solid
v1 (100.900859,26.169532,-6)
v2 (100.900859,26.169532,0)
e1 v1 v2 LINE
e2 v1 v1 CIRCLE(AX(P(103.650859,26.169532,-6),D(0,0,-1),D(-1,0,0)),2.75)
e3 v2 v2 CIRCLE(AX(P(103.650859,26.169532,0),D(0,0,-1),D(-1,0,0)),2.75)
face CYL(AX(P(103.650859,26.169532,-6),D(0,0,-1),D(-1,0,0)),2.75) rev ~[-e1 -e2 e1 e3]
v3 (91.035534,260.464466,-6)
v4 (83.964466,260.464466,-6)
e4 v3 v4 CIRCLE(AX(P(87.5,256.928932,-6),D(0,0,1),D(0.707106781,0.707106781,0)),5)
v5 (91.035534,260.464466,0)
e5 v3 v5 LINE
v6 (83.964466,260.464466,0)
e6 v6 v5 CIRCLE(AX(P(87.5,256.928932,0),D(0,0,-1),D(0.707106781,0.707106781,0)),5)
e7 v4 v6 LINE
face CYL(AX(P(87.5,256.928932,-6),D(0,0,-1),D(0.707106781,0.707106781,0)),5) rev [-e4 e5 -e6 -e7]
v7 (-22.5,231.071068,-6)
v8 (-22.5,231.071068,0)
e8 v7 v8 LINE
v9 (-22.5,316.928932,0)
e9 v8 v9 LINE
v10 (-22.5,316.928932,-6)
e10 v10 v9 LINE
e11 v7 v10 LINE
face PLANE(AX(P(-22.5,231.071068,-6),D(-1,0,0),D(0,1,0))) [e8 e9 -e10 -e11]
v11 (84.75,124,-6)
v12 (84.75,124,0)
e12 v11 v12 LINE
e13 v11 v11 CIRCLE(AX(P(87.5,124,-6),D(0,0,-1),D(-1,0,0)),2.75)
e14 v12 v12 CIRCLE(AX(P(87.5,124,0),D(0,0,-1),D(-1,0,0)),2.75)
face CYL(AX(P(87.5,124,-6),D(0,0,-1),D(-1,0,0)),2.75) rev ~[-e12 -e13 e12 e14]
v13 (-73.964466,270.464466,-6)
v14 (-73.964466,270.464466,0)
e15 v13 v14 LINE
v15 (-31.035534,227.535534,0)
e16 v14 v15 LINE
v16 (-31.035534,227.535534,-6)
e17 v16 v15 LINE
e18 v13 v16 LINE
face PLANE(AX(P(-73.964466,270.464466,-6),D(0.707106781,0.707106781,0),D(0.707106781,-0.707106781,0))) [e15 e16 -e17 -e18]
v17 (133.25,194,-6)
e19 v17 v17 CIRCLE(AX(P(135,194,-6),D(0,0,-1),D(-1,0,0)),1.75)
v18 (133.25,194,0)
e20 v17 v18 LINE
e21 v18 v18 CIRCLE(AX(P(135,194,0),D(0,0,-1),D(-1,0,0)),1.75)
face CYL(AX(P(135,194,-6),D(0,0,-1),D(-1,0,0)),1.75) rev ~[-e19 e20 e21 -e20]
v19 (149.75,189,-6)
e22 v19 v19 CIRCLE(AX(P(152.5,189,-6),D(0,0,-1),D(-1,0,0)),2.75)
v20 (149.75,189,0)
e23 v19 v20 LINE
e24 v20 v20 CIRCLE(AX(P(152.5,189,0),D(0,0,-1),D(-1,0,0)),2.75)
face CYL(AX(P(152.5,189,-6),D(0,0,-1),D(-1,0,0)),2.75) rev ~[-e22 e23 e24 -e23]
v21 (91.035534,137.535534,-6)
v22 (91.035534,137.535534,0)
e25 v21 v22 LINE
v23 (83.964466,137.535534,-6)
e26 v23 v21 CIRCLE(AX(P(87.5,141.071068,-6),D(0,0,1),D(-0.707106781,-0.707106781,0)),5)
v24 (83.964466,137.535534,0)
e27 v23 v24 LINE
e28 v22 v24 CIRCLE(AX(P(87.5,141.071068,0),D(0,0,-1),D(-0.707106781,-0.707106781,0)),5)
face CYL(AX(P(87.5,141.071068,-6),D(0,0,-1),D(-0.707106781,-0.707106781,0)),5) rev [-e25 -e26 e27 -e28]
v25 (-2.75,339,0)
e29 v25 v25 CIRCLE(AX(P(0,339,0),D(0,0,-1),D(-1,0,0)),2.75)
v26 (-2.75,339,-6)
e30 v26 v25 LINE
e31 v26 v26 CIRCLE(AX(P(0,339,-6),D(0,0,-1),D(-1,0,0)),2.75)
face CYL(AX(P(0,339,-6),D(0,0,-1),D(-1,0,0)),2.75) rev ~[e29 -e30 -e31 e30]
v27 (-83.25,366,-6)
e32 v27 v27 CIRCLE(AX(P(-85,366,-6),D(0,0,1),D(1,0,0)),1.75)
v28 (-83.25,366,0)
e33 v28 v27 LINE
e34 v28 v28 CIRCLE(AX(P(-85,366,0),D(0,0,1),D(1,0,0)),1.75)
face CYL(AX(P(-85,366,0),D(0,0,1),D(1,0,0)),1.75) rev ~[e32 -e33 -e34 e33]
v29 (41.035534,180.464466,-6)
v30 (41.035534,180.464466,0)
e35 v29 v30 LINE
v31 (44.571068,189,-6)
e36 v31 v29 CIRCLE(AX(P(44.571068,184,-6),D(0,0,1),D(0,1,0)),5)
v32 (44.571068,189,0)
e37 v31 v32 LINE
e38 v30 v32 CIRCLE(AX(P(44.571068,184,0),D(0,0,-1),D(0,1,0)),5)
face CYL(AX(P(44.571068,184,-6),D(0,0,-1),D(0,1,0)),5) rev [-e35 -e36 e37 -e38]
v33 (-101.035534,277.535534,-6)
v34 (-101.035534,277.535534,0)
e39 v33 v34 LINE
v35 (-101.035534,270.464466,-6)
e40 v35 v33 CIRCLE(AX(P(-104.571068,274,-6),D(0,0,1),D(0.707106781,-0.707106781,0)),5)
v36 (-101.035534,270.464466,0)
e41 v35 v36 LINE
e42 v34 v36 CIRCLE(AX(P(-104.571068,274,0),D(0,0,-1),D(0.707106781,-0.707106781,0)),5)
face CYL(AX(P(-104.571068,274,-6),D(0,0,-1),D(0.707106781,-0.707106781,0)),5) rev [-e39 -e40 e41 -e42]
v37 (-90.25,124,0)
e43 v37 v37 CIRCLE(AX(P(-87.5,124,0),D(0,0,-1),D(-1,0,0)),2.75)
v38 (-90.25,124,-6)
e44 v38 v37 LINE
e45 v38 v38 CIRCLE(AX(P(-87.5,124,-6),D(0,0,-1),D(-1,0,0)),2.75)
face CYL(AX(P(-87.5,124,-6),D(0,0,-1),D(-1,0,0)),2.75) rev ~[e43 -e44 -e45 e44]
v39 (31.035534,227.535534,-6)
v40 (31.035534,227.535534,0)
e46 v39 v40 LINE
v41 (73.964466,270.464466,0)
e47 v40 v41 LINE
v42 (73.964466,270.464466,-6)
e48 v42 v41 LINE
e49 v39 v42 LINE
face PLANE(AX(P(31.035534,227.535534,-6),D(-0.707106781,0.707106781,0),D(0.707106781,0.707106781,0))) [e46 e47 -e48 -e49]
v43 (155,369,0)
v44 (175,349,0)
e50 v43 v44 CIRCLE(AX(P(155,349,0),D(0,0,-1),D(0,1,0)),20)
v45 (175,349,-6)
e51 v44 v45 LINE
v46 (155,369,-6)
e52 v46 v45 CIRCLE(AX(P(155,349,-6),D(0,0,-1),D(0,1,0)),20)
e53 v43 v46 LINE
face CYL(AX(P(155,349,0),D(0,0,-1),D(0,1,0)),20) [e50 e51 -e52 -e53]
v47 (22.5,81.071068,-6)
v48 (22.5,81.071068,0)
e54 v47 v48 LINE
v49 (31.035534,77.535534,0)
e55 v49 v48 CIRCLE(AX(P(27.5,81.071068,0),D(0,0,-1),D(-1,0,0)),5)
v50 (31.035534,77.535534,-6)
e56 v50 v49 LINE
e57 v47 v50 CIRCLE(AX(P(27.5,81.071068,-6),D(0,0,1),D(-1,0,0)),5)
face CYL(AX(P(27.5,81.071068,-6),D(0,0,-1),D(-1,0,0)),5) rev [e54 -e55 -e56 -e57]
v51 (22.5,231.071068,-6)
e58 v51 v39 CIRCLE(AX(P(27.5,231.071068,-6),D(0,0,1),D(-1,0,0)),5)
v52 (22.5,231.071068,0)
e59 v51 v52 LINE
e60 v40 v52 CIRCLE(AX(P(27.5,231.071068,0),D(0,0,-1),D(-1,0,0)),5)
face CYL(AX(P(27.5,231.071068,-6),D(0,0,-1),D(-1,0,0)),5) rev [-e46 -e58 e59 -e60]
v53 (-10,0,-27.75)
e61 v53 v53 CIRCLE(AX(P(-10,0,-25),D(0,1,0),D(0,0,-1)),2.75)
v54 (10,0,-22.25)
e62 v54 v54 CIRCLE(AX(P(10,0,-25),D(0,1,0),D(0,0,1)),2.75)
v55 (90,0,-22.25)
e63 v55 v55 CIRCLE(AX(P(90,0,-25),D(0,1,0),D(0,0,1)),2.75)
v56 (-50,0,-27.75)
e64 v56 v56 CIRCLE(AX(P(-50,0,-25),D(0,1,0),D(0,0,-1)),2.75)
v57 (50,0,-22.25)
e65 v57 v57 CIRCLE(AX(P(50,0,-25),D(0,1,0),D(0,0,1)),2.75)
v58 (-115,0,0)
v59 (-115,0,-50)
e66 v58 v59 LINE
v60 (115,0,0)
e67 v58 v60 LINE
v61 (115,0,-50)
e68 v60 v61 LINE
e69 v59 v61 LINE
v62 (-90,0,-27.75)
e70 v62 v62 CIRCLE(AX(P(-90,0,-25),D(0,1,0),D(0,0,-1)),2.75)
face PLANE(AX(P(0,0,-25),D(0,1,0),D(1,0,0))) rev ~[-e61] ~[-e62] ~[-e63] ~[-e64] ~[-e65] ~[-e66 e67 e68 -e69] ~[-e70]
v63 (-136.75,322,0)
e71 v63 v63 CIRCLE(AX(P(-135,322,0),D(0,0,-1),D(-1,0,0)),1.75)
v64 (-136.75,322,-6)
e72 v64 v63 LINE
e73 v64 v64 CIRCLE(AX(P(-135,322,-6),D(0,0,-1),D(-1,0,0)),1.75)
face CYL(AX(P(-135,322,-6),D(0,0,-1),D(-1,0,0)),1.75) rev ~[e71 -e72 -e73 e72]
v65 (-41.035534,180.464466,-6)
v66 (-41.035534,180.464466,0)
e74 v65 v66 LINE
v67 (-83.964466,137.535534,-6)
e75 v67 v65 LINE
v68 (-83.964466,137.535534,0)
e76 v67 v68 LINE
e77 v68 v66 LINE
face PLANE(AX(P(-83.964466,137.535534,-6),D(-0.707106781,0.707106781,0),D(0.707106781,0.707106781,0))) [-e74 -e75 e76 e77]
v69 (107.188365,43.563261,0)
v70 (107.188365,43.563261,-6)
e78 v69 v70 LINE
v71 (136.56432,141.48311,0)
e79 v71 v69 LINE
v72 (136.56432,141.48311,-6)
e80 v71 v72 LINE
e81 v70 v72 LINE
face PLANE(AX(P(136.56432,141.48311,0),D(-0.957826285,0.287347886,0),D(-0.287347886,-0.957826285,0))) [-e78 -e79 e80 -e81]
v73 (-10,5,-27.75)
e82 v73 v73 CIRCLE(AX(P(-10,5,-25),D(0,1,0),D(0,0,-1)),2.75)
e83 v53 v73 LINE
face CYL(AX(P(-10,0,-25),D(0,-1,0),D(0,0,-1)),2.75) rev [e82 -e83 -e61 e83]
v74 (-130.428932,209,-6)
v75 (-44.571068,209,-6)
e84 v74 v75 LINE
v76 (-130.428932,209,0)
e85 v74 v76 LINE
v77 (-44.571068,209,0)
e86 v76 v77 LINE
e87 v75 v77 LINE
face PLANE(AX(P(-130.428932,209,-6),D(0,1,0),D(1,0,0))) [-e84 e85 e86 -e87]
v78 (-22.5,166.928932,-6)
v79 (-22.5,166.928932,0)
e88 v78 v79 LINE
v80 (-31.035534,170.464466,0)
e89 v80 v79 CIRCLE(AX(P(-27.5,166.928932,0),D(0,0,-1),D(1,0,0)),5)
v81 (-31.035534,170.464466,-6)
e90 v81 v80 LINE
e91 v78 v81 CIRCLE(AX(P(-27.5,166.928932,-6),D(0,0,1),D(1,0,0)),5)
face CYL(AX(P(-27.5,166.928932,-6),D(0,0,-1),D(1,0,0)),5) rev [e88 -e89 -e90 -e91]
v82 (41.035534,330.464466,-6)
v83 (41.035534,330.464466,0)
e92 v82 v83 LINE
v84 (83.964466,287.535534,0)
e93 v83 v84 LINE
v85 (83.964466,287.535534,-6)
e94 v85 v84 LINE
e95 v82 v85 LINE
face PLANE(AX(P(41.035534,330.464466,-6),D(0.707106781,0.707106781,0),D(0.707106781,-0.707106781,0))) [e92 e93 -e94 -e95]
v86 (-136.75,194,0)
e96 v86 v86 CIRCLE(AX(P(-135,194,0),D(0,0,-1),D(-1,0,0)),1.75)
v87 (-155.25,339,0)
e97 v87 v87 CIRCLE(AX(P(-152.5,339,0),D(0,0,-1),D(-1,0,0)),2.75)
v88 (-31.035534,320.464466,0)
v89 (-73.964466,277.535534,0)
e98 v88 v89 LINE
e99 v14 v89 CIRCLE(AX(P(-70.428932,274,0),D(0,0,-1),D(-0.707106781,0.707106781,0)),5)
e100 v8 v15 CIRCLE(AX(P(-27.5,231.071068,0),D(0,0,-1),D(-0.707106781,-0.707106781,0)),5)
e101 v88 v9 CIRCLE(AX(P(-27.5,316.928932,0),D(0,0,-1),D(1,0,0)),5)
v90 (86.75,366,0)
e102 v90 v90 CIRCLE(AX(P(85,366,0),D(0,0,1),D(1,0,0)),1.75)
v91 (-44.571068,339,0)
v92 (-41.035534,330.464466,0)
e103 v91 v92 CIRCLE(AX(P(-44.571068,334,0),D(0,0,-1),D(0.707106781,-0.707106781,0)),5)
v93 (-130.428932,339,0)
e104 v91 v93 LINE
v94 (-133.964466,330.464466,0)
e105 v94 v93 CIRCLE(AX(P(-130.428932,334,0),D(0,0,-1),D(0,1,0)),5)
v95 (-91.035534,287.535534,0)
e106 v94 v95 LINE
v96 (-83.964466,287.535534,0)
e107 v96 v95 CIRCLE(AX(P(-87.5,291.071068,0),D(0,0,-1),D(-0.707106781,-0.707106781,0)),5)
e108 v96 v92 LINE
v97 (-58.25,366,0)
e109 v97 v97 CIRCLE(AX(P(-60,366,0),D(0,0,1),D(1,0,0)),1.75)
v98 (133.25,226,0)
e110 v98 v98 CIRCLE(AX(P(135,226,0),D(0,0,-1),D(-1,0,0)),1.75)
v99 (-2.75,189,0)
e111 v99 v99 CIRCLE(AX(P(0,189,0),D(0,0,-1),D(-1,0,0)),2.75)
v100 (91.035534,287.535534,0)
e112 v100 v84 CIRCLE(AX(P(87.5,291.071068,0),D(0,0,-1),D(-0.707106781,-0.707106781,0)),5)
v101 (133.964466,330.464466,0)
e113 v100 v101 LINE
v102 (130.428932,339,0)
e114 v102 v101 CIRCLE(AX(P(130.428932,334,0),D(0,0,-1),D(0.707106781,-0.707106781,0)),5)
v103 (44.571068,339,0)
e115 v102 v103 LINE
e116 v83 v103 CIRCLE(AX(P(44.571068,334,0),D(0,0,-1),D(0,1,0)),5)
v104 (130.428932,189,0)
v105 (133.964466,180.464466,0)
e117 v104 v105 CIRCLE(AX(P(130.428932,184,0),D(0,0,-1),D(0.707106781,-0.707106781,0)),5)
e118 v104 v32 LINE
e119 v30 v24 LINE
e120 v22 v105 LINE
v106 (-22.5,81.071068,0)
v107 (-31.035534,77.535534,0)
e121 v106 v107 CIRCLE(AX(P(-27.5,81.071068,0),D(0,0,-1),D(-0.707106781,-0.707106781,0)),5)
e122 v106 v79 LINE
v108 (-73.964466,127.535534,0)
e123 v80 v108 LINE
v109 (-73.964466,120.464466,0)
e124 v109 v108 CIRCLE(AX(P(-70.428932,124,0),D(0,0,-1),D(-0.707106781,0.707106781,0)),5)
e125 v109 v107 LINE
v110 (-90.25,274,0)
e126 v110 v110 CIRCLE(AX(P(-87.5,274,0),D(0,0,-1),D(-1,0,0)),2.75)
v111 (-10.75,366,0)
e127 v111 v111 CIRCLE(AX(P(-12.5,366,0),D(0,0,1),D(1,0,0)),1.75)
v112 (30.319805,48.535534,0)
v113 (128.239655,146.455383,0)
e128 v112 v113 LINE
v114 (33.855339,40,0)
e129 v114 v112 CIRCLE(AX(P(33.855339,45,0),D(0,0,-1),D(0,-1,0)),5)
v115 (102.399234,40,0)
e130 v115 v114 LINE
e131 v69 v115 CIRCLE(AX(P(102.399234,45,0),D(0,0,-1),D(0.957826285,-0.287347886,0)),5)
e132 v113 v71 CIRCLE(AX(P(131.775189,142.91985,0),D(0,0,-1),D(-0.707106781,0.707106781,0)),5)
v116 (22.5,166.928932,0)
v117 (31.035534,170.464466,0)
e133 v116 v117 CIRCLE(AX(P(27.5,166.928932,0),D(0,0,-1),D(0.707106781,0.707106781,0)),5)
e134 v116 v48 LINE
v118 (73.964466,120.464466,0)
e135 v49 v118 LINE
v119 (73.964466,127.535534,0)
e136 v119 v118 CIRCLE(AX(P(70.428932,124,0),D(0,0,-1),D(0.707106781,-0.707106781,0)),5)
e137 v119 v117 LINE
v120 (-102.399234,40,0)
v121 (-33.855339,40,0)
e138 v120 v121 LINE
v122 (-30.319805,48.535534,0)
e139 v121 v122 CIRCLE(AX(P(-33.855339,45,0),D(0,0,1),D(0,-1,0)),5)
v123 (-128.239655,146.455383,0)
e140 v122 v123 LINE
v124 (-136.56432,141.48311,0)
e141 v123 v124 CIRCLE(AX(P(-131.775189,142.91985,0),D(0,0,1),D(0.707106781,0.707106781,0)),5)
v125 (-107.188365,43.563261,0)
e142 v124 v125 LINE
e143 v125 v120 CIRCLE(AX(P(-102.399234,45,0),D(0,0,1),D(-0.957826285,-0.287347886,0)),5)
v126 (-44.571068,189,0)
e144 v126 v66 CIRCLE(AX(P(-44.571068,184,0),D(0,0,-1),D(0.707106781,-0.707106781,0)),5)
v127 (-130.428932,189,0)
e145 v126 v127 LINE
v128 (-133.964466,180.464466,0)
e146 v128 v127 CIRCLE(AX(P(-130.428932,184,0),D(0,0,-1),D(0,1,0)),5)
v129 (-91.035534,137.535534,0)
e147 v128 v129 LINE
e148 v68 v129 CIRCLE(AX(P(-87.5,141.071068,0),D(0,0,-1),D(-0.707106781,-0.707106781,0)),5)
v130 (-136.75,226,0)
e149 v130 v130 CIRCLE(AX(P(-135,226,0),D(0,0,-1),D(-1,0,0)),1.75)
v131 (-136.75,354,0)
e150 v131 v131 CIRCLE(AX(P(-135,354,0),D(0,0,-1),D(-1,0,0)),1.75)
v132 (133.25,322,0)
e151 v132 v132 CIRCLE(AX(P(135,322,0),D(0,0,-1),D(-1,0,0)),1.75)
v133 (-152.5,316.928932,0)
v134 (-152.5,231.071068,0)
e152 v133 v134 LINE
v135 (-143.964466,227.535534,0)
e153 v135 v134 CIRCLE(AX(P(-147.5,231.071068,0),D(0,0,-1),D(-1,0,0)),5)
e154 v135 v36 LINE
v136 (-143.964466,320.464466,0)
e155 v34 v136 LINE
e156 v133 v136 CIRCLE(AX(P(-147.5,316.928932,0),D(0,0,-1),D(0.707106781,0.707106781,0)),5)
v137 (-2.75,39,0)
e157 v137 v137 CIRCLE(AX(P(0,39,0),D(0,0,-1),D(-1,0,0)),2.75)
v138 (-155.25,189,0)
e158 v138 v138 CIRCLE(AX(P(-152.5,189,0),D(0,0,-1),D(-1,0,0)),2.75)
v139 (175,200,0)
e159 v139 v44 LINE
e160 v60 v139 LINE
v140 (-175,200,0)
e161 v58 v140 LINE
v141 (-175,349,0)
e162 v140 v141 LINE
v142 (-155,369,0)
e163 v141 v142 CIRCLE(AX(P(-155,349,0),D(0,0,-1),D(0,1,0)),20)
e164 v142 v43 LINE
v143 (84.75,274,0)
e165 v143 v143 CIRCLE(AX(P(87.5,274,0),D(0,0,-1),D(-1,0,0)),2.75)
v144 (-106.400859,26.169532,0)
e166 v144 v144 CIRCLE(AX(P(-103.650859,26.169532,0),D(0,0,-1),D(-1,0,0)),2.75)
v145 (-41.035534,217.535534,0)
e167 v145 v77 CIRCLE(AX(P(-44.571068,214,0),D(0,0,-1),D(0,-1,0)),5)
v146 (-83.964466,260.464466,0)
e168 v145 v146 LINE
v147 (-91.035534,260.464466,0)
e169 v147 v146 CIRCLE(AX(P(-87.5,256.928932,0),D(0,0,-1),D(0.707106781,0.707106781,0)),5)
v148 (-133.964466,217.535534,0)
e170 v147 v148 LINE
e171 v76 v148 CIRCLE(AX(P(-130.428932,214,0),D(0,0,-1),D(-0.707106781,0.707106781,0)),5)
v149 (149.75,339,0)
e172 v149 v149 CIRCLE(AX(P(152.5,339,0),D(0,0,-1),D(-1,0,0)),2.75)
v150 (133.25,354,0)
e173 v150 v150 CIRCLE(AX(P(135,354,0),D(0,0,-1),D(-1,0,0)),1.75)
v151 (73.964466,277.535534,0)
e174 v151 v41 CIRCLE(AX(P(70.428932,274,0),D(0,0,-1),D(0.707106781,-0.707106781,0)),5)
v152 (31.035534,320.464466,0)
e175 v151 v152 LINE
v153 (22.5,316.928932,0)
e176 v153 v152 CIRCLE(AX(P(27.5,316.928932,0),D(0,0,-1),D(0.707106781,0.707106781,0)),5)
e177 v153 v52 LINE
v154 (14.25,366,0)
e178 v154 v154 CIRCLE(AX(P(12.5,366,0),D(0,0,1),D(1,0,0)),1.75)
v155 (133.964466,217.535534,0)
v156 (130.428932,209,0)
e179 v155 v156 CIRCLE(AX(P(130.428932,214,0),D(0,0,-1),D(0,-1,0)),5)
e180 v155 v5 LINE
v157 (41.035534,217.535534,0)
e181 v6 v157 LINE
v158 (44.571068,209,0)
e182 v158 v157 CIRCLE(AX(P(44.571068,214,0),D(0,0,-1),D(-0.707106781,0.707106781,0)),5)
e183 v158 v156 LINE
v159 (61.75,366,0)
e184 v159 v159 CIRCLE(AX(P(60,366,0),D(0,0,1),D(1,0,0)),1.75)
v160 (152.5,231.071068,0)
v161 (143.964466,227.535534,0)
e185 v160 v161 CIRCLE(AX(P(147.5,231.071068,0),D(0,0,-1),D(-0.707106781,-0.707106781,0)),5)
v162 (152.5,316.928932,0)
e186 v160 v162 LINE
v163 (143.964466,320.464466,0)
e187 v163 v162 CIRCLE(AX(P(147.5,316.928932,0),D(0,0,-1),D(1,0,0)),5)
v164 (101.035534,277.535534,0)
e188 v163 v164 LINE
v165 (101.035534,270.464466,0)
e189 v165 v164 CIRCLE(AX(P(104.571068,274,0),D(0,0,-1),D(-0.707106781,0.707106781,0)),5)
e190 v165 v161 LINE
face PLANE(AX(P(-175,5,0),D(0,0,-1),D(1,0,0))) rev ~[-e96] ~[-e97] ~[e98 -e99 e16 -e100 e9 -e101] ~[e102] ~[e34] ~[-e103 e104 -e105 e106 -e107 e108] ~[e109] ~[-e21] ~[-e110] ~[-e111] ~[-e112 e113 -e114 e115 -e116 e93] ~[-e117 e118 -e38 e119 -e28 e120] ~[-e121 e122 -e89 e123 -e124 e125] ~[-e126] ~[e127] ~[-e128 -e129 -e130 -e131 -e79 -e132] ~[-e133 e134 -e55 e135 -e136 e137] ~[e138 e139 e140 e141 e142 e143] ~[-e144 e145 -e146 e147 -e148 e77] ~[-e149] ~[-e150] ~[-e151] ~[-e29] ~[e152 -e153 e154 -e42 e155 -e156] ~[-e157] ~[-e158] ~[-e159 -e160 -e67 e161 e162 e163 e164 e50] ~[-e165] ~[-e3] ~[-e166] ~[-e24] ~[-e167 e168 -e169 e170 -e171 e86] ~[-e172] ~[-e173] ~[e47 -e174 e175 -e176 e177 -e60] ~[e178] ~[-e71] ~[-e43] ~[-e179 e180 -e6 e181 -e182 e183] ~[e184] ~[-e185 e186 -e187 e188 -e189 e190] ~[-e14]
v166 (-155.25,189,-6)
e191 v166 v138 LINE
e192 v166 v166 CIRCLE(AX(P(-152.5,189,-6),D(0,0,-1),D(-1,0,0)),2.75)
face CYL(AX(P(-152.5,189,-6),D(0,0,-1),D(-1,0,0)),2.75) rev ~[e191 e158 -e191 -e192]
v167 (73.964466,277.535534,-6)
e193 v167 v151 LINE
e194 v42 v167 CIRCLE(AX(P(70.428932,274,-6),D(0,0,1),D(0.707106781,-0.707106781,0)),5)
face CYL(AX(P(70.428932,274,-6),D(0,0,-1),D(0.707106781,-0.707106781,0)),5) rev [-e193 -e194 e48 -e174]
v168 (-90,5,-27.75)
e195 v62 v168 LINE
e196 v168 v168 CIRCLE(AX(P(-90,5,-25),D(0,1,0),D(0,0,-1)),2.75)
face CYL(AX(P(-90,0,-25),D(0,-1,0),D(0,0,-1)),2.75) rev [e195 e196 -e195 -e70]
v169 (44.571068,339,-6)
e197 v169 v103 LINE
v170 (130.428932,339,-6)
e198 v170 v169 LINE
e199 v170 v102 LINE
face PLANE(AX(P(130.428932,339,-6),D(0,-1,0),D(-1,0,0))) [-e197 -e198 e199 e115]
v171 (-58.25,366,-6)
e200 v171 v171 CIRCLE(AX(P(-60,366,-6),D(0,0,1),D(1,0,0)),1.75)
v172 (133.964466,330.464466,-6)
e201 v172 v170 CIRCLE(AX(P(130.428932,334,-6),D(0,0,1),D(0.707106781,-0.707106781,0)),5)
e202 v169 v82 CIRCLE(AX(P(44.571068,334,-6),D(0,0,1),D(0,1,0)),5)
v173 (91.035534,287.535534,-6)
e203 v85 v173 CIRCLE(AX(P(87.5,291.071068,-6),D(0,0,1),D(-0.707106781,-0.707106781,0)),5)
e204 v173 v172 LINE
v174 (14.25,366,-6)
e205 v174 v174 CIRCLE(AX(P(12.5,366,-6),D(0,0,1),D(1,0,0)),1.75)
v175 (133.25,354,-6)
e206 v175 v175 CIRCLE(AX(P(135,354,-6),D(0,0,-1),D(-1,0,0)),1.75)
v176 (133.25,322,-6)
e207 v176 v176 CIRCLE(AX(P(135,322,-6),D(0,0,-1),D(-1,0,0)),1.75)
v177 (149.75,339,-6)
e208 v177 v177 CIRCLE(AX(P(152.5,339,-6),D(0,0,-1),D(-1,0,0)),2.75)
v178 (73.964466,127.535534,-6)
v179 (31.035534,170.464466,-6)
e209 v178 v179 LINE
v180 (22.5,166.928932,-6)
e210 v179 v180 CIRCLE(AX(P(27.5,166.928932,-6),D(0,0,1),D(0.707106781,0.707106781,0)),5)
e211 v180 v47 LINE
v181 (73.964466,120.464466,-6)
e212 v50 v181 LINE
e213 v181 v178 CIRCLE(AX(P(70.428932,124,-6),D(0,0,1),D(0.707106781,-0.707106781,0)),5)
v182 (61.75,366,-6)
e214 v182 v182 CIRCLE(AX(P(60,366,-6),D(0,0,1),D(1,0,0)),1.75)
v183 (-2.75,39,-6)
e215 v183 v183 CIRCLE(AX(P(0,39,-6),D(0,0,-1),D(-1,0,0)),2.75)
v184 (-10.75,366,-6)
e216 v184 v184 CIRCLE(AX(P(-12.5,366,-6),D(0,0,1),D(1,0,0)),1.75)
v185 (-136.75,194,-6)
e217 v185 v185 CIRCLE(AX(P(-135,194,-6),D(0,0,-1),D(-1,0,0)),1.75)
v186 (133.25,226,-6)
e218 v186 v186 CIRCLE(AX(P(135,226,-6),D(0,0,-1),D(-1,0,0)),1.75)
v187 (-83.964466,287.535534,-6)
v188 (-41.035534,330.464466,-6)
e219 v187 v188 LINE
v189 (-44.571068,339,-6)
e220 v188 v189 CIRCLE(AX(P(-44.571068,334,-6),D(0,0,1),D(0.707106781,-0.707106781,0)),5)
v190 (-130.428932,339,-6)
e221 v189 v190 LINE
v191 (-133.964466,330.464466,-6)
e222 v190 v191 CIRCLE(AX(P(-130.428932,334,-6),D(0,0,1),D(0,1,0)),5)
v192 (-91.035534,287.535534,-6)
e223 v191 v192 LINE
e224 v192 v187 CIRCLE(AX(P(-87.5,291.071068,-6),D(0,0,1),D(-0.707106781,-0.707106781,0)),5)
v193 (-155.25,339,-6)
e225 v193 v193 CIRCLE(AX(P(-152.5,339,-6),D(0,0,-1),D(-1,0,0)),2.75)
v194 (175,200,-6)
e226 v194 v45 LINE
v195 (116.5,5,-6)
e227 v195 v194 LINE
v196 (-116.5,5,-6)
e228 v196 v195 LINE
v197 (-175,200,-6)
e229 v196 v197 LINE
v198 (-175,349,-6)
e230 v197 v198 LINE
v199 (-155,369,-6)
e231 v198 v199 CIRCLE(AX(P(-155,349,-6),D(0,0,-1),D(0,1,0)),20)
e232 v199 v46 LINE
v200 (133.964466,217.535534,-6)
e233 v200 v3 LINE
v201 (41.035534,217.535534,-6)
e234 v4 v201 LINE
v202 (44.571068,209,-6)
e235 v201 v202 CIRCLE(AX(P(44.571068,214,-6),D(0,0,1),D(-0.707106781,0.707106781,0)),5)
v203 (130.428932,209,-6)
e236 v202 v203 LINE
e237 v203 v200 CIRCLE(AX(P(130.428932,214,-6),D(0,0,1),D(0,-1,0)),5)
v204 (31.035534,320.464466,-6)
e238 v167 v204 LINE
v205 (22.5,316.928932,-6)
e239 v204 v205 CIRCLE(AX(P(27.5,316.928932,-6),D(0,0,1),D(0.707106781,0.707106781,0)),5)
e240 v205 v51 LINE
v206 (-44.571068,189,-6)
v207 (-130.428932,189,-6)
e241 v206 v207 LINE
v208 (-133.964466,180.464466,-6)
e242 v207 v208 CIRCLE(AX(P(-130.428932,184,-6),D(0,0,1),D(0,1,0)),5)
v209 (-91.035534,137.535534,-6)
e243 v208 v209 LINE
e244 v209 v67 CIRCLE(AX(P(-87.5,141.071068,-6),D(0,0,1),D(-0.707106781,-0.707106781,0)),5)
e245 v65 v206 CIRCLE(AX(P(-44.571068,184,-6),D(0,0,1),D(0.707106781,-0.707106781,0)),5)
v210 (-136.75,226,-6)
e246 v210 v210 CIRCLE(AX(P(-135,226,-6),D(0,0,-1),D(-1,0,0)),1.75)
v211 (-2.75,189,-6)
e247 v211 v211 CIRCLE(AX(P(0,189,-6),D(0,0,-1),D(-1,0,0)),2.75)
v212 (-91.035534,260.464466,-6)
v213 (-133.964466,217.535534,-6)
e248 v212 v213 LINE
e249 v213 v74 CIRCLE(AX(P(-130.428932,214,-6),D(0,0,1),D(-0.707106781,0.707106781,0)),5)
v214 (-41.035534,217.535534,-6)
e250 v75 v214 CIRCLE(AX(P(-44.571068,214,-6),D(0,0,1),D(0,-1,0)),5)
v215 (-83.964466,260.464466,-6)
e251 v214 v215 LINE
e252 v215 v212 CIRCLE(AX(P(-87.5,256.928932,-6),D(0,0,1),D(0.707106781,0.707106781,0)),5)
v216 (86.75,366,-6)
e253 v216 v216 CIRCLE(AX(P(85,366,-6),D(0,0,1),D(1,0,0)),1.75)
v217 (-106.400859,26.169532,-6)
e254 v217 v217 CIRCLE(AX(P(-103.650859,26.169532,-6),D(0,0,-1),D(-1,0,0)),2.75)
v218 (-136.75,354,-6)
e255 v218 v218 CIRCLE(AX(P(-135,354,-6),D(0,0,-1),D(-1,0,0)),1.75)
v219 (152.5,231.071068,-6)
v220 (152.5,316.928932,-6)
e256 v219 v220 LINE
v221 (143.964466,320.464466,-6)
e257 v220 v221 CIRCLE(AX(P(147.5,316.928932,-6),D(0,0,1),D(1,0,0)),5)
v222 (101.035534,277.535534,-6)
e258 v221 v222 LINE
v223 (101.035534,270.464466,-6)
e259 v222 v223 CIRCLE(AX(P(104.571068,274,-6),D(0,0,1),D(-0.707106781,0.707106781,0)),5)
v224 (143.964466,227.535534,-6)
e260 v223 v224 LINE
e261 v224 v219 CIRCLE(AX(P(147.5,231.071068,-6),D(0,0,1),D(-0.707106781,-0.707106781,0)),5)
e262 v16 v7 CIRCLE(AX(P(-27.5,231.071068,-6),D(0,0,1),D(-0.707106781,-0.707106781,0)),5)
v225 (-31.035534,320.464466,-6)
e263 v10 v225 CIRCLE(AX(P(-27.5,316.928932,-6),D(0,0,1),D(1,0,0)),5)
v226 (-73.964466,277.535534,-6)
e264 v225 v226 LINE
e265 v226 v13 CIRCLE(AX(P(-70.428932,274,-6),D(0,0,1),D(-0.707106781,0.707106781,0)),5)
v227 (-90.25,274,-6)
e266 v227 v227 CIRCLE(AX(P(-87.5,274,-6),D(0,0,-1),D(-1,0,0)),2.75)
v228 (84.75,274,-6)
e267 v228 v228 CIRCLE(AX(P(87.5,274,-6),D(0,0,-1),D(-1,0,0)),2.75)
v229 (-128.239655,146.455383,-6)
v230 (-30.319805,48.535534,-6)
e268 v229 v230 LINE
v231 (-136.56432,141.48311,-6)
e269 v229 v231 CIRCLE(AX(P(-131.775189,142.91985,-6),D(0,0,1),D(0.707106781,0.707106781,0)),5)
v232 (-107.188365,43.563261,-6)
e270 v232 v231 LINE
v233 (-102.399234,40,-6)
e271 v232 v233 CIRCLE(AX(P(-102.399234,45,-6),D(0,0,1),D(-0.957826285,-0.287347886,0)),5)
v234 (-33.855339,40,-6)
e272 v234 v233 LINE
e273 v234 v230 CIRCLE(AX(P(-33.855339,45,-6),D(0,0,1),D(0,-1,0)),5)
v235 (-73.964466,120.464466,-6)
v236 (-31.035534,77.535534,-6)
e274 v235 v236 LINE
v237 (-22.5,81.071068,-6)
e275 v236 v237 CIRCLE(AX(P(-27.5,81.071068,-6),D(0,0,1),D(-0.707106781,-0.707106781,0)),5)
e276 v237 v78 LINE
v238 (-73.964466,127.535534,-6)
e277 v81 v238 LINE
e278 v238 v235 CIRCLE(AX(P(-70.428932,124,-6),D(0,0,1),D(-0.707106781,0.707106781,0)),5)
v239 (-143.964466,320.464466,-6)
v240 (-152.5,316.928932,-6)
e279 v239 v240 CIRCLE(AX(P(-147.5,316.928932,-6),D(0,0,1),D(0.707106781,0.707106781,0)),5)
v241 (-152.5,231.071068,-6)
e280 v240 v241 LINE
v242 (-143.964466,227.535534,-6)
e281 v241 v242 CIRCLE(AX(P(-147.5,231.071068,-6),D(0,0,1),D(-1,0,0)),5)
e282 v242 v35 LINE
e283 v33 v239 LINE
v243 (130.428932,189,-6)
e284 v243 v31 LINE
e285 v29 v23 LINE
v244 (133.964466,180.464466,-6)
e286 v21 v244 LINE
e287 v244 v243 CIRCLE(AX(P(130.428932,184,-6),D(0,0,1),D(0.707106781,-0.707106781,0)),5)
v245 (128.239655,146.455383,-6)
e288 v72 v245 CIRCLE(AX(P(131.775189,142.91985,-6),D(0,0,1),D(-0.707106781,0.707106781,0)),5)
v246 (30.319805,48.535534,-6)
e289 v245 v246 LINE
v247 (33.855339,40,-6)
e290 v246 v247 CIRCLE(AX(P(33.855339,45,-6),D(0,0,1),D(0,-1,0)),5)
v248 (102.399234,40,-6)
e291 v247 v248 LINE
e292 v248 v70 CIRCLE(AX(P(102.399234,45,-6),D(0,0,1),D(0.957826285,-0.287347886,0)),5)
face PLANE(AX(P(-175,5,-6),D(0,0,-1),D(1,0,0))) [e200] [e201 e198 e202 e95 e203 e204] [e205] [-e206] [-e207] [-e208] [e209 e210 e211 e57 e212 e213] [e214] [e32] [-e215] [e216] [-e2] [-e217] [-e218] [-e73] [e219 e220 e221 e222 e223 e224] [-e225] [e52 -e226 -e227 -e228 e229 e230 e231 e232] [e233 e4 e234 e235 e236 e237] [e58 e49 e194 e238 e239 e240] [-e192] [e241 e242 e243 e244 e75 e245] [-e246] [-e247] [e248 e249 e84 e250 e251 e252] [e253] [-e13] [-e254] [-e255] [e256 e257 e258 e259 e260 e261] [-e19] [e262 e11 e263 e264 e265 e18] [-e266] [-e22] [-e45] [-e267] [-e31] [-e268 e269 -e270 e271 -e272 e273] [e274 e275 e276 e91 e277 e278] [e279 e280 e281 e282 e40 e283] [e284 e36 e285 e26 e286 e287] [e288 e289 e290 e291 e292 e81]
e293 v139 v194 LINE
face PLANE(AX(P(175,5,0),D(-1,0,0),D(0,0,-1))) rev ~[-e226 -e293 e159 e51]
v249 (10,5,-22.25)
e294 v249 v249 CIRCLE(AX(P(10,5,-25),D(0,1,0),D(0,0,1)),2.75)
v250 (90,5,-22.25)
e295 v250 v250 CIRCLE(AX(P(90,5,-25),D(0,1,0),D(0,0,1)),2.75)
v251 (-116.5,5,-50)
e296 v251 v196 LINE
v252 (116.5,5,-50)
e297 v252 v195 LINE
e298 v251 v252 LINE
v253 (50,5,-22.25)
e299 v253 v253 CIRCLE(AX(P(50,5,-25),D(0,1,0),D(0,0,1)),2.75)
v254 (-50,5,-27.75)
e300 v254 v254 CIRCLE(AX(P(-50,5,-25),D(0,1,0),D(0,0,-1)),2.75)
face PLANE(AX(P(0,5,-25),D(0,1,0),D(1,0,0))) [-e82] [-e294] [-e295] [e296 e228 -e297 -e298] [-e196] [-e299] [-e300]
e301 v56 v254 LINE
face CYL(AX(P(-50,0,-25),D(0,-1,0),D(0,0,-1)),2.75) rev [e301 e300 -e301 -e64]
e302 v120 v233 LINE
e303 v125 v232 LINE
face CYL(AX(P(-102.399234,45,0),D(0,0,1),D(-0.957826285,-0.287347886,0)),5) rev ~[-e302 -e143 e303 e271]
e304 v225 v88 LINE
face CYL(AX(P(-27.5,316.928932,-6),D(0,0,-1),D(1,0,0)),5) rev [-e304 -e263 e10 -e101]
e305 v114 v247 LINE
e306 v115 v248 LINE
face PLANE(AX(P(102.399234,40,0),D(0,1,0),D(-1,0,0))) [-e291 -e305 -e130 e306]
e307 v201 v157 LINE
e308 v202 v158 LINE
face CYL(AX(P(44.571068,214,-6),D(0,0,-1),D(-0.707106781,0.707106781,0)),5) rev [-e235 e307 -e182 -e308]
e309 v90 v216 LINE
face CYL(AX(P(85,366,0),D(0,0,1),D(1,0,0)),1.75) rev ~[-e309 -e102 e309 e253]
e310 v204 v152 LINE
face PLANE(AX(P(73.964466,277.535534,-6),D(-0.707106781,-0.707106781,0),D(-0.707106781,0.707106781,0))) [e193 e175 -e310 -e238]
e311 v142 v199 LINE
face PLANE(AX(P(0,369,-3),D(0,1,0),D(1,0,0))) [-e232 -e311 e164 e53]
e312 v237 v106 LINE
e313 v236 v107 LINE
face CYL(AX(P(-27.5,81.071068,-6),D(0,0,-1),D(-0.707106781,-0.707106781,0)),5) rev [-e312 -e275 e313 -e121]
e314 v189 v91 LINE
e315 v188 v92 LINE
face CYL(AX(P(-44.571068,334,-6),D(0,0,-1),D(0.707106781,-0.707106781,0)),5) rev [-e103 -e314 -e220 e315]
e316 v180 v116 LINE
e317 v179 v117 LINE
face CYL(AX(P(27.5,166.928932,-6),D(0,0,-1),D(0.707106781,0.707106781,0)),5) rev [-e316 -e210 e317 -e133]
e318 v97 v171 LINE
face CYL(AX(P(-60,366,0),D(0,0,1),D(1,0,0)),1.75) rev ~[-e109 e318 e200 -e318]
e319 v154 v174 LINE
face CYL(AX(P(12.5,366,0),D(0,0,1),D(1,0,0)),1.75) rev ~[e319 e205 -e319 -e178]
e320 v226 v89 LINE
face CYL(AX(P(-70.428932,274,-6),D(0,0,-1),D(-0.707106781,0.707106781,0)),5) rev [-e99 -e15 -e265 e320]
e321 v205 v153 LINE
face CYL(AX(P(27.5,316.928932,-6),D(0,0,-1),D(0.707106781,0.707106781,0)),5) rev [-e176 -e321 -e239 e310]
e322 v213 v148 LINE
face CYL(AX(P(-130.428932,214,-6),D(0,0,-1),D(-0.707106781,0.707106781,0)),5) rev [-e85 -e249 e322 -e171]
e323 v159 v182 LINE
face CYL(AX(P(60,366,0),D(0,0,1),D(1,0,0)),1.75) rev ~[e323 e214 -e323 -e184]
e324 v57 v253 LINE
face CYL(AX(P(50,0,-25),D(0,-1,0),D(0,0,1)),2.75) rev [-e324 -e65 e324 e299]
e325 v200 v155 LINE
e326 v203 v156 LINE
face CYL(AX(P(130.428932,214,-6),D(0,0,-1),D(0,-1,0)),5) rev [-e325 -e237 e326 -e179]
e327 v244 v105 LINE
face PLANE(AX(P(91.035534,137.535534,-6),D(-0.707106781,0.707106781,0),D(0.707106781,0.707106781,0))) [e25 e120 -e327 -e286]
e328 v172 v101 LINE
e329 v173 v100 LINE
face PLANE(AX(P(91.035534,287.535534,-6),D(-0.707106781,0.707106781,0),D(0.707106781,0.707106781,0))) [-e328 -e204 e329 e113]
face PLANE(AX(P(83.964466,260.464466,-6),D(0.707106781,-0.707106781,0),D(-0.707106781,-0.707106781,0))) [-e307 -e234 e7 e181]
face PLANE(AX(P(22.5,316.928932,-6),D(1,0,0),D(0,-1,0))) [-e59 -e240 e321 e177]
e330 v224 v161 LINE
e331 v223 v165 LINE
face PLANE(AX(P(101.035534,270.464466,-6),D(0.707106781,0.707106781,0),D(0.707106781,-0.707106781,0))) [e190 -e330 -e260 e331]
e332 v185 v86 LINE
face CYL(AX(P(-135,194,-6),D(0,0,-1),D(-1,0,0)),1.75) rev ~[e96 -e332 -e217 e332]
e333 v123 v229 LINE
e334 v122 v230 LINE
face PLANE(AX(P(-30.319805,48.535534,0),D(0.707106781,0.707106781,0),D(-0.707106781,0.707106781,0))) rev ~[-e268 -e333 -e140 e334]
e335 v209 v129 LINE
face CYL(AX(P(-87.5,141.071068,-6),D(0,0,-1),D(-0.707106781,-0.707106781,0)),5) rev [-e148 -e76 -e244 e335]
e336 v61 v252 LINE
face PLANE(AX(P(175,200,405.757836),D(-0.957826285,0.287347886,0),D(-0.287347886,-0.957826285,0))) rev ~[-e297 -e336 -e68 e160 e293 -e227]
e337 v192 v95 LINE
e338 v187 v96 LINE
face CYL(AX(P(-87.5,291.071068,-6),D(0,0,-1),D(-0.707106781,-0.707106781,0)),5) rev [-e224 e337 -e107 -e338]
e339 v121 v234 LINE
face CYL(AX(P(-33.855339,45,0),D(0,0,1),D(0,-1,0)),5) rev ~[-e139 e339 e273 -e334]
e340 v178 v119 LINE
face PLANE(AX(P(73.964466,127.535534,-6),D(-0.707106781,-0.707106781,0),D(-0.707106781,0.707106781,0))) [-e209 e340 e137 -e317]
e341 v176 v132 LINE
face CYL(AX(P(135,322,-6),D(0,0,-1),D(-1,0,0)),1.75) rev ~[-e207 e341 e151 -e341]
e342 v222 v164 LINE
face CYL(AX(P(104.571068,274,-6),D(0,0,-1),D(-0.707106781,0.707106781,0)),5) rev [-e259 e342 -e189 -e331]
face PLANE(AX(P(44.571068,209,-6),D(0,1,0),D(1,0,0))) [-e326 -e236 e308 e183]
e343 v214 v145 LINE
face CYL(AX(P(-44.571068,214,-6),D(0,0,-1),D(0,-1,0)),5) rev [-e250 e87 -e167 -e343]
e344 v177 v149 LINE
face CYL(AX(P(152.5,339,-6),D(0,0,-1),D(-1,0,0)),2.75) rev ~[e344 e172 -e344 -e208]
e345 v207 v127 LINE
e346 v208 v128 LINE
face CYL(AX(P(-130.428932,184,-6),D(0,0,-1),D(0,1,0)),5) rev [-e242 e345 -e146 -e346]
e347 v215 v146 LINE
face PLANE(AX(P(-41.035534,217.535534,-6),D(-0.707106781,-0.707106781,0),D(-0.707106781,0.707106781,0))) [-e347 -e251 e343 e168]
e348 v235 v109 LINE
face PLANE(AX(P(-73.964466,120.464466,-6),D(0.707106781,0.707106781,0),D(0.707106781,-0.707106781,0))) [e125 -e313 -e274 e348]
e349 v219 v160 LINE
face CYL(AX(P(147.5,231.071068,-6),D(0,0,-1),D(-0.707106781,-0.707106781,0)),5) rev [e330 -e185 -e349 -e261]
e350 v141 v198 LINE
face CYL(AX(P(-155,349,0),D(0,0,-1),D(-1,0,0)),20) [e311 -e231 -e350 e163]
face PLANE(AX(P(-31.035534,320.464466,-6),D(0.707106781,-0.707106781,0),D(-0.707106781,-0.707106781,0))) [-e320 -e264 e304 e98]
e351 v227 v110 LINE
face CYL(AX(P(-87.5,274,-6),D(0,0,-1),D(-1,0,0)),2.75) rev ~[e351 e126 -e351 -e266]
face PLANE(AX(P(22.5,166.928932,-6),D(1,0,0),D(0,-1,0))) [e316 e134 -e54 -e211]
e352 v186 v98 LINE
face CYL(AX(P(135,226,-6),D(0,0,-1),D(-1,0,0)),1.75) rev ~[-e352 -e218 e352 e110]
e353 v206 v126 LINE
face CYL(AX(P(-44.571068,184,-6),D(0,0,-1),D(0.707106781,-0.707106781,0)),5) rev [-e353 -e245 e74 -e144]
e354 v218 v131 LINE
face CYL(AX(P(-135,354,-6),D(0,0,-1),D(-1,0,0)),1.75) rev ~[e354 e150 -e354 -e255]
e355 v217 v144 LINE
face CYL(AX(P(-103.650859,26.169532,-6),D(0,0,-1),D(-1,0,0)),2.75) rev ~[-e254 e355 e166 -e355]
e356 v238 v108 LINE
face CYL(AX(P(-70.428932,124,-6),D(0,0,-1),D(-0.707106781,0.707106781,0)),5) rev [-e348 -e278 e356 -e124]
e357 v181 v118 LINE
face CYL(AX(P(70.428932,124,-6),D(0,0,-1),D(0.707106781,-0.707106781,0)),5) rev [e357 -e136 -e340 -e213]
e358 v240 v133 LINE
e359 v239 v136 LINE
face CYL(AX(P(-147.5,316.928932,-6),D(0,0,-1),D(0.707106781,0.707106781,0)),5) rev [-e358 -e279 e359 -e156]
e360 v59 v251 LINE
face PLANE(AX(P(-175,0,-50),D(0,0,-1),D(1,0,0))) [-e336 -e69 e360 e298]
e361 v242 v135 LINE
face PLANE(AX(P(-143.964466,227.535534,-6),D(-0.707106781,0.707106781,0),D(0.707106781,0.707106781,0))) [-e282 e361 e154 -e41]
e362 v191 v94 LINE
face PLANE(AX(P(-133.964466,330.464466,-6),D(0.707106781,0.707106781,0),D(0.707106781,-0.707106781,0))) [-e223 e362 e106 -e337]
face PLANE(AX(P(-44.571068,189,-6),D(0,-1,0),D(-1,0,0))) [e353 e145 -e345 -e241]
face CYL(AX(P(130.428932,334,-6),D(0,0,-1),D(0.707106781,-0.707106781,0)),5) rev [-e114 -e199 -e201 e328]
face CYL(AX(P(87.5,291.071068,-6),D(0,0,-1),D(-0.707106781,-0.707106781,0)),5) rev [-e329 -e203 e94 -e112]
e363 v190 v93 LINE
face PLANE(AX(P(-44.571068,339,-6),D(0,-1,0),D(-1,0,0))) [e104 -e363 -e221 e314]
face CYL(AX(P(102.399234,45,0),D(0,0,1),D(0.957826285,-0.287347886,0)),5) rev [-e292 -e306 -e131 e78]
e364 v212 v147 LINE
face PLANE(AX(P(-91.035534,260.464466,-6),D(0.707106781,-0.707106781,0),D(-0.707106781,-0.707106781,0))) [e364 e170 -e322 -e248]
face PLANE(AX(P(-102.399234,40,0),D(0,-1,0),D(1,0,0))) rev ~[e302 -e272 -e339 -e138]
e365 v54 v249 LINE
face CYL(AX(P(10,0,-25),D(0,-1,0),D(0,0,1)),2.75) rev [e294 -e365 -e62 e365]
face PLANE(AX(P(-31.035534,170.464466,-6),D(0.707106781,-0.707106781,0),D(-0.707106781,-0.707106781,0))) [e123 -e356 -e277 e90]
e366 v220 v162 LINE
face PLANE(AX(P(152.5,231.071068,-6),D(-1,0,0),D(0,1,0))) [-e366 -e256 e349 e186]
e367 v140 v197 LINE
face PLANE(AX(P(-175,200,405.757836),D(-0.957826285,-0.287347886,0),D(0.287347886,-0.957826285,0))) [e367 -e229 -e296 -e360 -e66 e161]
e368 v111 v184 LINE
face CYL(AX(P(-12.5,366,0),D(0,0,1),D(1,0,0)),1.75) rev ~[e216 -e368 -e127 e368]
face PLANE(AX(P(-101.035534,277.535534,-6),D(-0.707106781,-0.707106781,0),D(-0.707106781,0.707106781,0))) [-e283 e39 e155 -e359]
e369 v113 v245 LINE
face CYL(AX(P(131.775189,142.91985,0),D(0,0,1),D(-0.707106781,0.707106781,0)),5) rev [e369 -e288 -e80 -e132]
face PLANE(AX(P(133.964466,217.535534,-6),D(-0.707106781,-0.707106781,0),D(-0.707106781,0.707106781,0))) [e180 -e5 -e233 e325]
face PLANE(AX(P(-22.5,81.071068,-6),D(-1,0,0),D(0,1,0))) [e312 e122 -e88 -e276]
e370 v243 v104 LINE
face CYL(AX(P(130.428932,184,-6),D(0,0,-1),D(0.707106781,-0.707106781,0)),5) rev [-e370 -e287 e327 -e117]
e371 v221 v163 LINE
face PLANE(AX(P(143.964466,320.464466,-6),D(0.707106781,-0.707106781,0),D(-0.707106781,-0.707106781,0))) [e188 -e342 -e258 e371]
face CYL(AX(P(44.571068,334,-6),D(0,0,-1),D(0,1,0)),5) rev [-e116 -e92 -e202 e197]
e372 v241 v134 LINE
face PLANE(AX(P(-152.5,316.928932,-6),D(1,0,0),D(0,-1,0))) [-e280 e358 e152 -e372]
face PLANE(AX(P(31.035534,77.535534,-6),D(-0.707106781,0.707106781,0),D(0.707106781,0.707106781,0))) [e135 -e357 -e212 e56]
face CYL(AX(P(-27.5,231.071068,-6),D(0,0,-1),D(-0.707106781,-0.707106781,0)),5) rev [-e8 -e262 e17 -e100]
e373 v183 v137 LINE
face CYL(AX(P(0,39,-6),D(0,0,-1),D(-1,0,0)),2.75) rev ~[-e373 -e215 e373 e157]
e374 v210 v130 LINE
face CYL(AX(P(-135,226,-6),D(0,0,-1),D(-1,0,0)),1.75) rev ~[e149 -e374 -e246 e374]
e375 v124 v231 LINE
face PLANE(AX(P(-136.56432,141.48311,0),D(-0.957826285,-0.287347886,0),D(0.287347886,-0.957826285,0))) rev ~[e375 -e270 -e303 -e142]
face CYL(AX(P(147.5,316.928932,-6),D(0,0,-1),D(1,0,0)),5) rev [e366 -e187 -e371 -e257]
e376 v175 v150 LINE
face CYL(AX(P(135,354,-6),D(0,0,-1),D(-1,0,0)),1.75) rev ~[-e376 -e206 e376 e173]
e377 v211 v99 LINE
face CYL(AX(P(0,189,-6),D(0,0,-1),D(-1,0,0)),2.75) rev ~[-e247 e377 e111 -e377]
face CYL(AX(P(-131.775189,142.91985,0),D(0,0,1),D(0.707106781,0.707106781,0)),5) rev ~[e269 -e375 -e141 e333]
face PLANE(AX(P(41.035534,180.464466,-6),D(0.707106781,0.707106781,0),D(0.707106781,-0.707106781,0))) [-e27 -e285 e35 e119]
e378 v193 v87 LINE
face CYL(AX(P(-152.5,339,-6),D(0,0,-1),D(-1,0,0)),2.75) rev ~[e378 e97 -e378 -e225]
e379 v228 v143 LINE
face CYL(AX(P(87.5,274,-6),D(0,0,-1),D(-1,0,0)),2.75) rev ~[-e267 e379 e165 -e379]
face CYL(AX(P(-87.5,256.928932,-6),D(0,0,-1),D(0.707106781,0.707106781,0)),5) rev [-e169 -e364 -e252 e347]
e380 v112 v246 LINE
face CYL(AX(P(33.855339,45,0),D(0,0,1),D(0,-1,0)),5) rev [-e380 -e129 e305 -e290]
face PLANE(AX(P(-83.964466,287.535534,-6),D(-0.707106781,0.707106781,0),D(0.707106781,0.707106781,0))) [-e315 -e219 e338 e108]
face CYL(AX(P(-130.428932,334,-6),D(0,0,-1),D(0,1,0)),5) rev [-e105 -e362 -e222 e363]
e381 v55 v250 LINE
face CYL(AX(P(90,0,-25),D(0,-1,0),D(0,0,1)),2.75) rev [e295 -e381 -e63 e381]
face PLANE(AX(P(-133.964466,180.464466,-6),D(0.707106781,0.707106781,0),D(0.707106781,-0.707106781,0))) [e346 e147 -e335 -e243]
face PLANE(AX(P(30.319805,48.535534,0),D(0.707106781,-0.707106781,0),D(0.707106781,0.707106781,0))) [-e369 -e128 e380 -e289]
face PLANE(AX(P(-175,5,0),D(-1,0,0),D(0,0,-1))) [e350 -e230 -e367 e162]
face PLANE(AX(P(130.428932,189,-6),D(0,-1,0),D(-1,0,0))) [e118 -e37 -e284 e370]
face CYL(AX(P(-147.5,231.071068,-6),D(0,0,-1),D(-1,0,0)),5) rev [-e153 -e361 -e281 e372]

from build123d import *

# Parameters (mm, degrees)
SKETCH_1_W               = 350
SKETCH_1_H               = 50
SKETCH_1_R               = 2.75
EXTRUDE_1_DEPTH          = 5
SKETCH_2_W               = 350
SKETCH_2_H               = 6
EXTRUDE_2_DEPTH          = 364
SKETCH_3_R               = 2.75
CUT_EXTRUDE_1_DEPTH      = 500
SKETCH_4_R               = 1.75
CUT_EXTRUDE_2_DEPTH      = 10
FILLET_1_R               = 20
CUT_EXTRUDE_4_DEPTH      = 411.7578362
CUT_EXTRUDE_4_DEPTH_BACK = 411.7578362
CUT_EXTRUDE_5_DEPTH      = 10
SKETCH_10_R              = 2.75
CUT_EXTRUDE_6_DEPTH      = 10
SKETCH_11_R              = 1.75
CUT_EXTRUDE_7_DEPTH      = 10


with BuildPart() as part:
    # 草图1 → 凸台-拉伸1 (new body)
    with BuildSketch(Plane(origin=(0, 0, 0), x_dir=(1, 0, 0), z_dir=(0, 1, 0))):
        with Locations((0, 25)):
            Rectangle(SKETCH_1_W, SKETCH_1_H)
        with Locations(Location((130, 25, 0), (0, 0, 270))):
            Circle(SKETCH_1_R, mode=Mode.SUBTRACT)
        with Locations(Location((50, 25, 0), (0, 0, 270))):
            Circle(SKETCH_1_R, mode=Mode.SUBTRACT)
        with Locations(Location((-130, 25, 0), (0, 0, 90))):
            Circle(SKETCH_1_R, mode=Mode.SUBTRACT)
        with Locations(Location((-50, 25, 0), (0, 0, 90))):
            Circle(SKETCH_1_R, mode=Mode.SUBTRACT)
        with Locations(Location((10, 25, 0), (0, 0, 270))):
            Circle(SKETCH_1_R, mode=Mode.SUBTRACT)
        with Locations(Location((90, 25, 0), (0, 0, 270))):
            Circle(SKETCH_1_R, mode=Mode.SUBTRACT)
        with Locations(Location((-90, 25, 0), (0, 0, 90))):
            Circle(SKETCH_1_R, mode=Mode.SUBTRACT)
        with Locations(Location((-10, 25, 0), (0, 0, 90))):
            Circle(SKETCH_1_R, mode=Mode.SUBTRACT)
    extrude(amount=EXTRUDE_1_DEPTH)

    # 草图2 → 凸台-拉伸2 (add)
    with BuildSketch(Plane(origin=(0, 5, 0), x_dir=(1, 0, 0), z_dir=(0, 1, 0))):
        with Locations((0, 3)):
            Rectangle(SKETCH_2_W, SKETCH_2_H)
    extrude(amount=EXTRUDE_2_DEPTH)

    # 草图3 → 切除-拉伸1 (cut)
    with BuildSketch(Plane(origin=(0, 0, -6), x_dir=(-1, 0, 0), z_dir=(0, 0, -1))):
        with Locations((87.5, 274)):
            Circle(SKETCH_3_R)
        with Locations((87.5, 124)):
            Circle(SKETCH_3_R)
        with Locations((-87.5, 124)):
            Circle(SKETCH_3_R)
        with Locations((-87.5, 274)):
            Circle(SKETCH_3_R)
        with Locations((152.5, 339)):
            Circle(SKETCH_3_R)
        with Locations((152.5, 189)):
            Circle(SKETCH_3_R)
        with Locations((152.5, 39)):
            Circle(SKETCH_3_R)
        with Locations((-152.5, 39)):
            Circle(SKETCH_3_R)
        with Locations((-152.5, 189)):
            Circle(SKETCH_3_R)
        with Locations((-152.5, 339)):
            Circle(SKETCH_3_R)
        with Locations((0, 339)):
            Circle(SKETCH_3_R)
        with Locations((0, 189)):
            Circle(SKETCH_3_R)
        with Locations((0, 39)):
            Circle(SKETCH_3_R)
        with BuildLine():
            Line((83.964466094, 137.535533906), (41.035533906, 180.464466094))
            ThreePointArc((41.035533906, 180.464466094), (39.951670149, 185.913417162), (44.571067812, 189))
            Line((44.571067812, 189), (130.428932188, 189))
            ThreePointArc((130.428932188, 189), (135.048329851, 185.913417162), (133.964466094, 180.464466094))
            Line((133.964466094, 180.464466094), (91.035533906, 137.535533906))
            ThreePointArc((91.035533906, 137.535533906), (87.5, 136.071067812), (83.964466094, 137.535533906))
        make_face()
        with BuildLine():
            Line((44.571067812, 339), (130.428932188, 339))
            ThreePointArc((130.428932188, 339), (135.048329851, 335.913417162), (133.964466094, 330.464466094))
            Line((133.964466094, 330.464466094), (91.035533906, 287.535533906))
            ThreePointArc((91.035533906, 287.535533906), (87.5, 286.071067812), (83.964466094, 287.535533906))
            Line((83.964466094, 287.535533906), (41.035533906, 330.464466094))
            ThreePointArc((41.035533906, 330.464466094), (39.951670149, 335.913417162), (44.571067812, 339))
        make_face()
        with BuildLine():
            Line((73.964466094, 120.464466094), (31.035533906, 77.535533906))
            ThreePointArc((31.035533906, 77.535533906), (25.586582838, 76.451670149), (22.5, 81.071067812))
            Line((22.5, 81.071067812), (22.5, 166.928932188))
            ThreePointArc((22.5, 166.928932188), (25.586582838, 171.548329851), (31.035533906, 170.464466094))
            Line((31.035533906, 170.464466094), (73.964466094, 127.535533906))
            ThreePointArc((73.964466094, 127.535533906), (75.428932188, 124), (73.964466094, 120.464466094))
        make_face()
        with BuildLine():
            Line((101.035533906, 277.535533906), (143.964466094, 320.464466094))
            ThreePointArc((143.964466094, 320.464466094), (149.413417162, 321.548329851), (152.5, 316.928932188))
            Line((152.5, 316.928932188), (152.5, 231.071067812))
            ThreePointArc((152.5, 231.071067812), (149.413417162, 226.451670149), (143.964466094, 227.535533906))
            Line((143.964466094, 227.535533906), (101.035533906, 270.464466094))
            ThreePointArc((101.035533906, 270.464466094), (99.571067812, 274), (101.035533906, 277.535533906))
        make_face()
        with BuildLine():
            Line((91.035533906, 260.464466094), (133.964466094, 217.535533906))
            ThreePointArc((133.964466094, 217.535533906), (135.048329851, 212.086582838), (130.428932188, 209))
            Line((130.428932188, 209), (44.571067812, 209))
            ThreePointArc((44.571067812, 209), (39.951670149, 212.086582838), (41.035533906, 217.535533906))
            Line((41.035533906, 217.535533906), (83.964466094, 260.464466094))
            ThreePointArc((83.964466094, 260.464466094), (87.5, 261.928932188), (91.035533906, 260.464466094))
        make_face()
        with BuildLine():
            Line((73.964466094, 270.464466094), (31.035533906, 227.535533906))
            ThreePointArc((31.035533906, 227.535533906), (25.586582838, 226.451670149), (22.5, 231.071067812))
            Line((22.5, 231.071067812), (22.5, 316.928932188))
            ThreePointArc((22.5, 316.928932188), (25.586582838, 321.548329851), (31.035533906, 320.464466094))
            Line((31.035533906, 320.464466094), (73.964466094, 277.535533906))
            ThreePointArc((73.964466094, 277.535533906), (75.428932188, 274), (73.964466094, 270.464466094))
        make_face()
        with BuildLine():
            Line((-91.035533906, 137.535533906), (-133.964466094, 180.464466094))
            ThreePointArc((-133.964466094, 180.464466094), (-135.048329851, 185.913417162), (-130.428932188, 189))
            Line((-130.428932188, 189), (-44.571067812, 189))
            ThreePointArc((-44.571067812, 189), (-39.951670149, 185.913417162), (-41.035533906, 180.464466094))
            Line((-41.035533906, 180.464466094), (-83.964466094, 137.535533906))
            ThreePointArc((-83.964466094, 137.535533906), (-87.5, 136.071067812), (-91.035533906, 137.535533906))
        make_face()
        with BuildLine():
            Line((-73.964466094, 127.535533906), (-31.035533906, 170.464466094))
            ThreePointArc((-31.035533906, 170.464466094), (-25.586582838, 171.548329851), (-22.5, 166.928932188))
            Line((-22.5, 166.928932188), (-22.5, 81.071067812))
            ThreePointArc((-22.5, 81.071067812), (-25.586582838, 76.451670149), (-31.035533906, 77.535533906))
            Line((-31.035533906, 77.535533906), (-73.964466094, 120.464466094))
            ThreePointArc((-73.964466094, 120.464466094), (-75.428932188, 124), (-73.964466094, 127.535533906))
        make_face()
        with BuildLine():
            Line((-91.035533906, 287.535533906), (-133.964466094, 330.464466094))
            ThreePointArc((-133.964466094, 330.464466094), (-135.048329851, 335.913417162), (-130.428932188, 339))
            Line((-130.428932188, 339), (-44.571067812, 339))
            ThreePointArc((-44.571067812, 339), (-39.951670149, 335.913417162), (-41.035533906, 330.464466094))
            Line((-41.035533906, 330.464466094), (-83.964466094, 287.535533906))
            ThreePointArc((-83.964466094, 287.535533906), (-87.5, 286.071067812), (-91.035533906, 287.535533906))
        make_face()
        with BuildLine():
            Line((-101.035533906, 270.464466094), (-143.964466094, 227.535533906))
            ThreePointArc((-143.964466094, 227.535533906), (-149.413417162, 226.451670149), (-152.5, 231.071067812))
            Line((-152.5, 231.071067812), (-152.5, 316.928932188))
            ThreePointArc((-152.5, 316.928932188), (-149.413417162, 321.548329851), (-143.964466094, 320.464466094))
            Line((-143.964466094, 320.464466094), (-101.035533906, 277.535533906))
            ThreePointArc((-101.035533906, 277.535533906), (-99.571067812, 274), (-101.035533906, 270.464466094))
        make_face()
        with BuildLine():
            Line((-73.964466094, 277.535533906), (-31.035533906, 320.464466094))
            ThreePointArc((-31.035533906, 320.464466094), (-25.586582838, 321.548329851), (-22.5, 316.928932188))
            Line((-22.5, 316.928932188), (-22.5, 231.071067812))
            ThreePointArc((-22.5, 231.071067812), (-25.586582838, 226.451670149), (-31.035533906, 227.535533906))
            Line((-31.035533906, 227.535533906), (-73.964466094, 270.464466094))
            ThreePointArc((-73.964466094, 270.464466094), (-75.428932188, 274), (-73.964466094, 277.535533906))
        make_face()
        with BuildLine():
            Line((-83.964466094, 260.464466094), (-41.035533906, 217.535533906))
            ThreePointArc((-41.035533906, 217.535533906), (-39.951670149, 212.086582838), (-44.571067812, 209))
            Line((-44.571067812, 209), (-130.428932188, 209))
            ThreePointArc((-130.428932188, 209), (-135.048329851, 212.086582838), (-133.964466094, 217.535533906))
            Line((-133.964466094, 217.535533906), (-91.035533906, 260.464466094))
            ThreePointArc((-91.035533906, 260.464466094), (-87.5, 261.928932188), (-83.964466094, 260.464466094))
        make_face()
    extrude(amount=-CUT_EXTRUDE_1_DEPTH, mode=Mode.SUBTRACT)

    # 草图4 → 切除-拉伸2 (cut)
    with BuildSketch(Plane.XY):
        with Locations((60, 366)):
            Circle(SKETCH_4_R)
        with Locations((85, 366)):
            Circle(SKETCH_4_R)
        with Locations((12.5, 366)):
            Circle(SKETCH_4_R)
        with Locations((-12.5, 366)):
            Circle(SKETCH_4_R)
        with Locations((-85, 366)):
            Circle(SKETCH_4_R)
        with Locations((-60, 366)):
            Circle(SKETCH_4_R)
    extrude(amount=-CUT_EXTRUDE_2_DEPTH, mode=Mode.SUBTRACT)

    # 圆角1
    fillet_1_edges = [part.edges().sort_by_distance(p)[0] for p in [
        (-175, 369, -3),
        (175, 369, -3),
    ]]
    fillet(fillet_1_edges, radius=FILLET_1_R)

    # 草图8 → 切除-拉伸4 (cut, two sides: drawn at the far end of the back side and taken through both)
    with BuildSketch(Plane(origin=(0, 0, -6), x_dir=(-1, 0, 0), z_dir=(0, 0, -1)).offset(-CUT_EXTRUDE_4_DEPTH_BACK)):
        Polygon((-175, 200), (-115, 0), (-175, 0), align=None)
        Polygon((175, 0), (175, 200), (115, 0), align=None)
    extrude(amount=CUT_EXTRUDE_4_DEPTH + CUT_EXTRUDE_4_DEPTH_BACK, mode=Mode.SUBTRACT)

    # 草图9 → 切除-拉伸5 (cut)
    with BuildSketch(Plane.XY):
        with BuildLine():
            Line((-136.564320012, 141.483110098), (-107.188365154, 43.563260572))
            ThreePointArc((-107.188365154, 43.563260572), (-105.383886376, 40.988535359), (-102.399233728, 40))
            Line((-102.399233728, 40), (-33.855339059, 40))
            ThreePointArc((-33.855339059, 40), (-29.235941397, 43.086582838), (-30.319805153, 48.535533906))
            Line((-30.319805153, 48.535533906), (-128.23965468, 146.455383432))
            ThreePointArc((-128.23965468, 146.455383432), (-134.339121543, 147.212430077), (-136.564320012, 141.483110098))
        make_face()
        with BuildLine():
            Line((30.319805153, 48.535533906), (128.23965468, 146.455383432))
            ThreePointArc((128.23965468, 146.455383432), (134.339121543, 147.212430077), (136.564320012, 141.483110098))
            Line((136.564320012, 141.483110098), (107.188365154, 43.563260572))
            ThreePointArc((107.188365154, 43.563260572), (105.383886376, 40.988535359), (102.399233728, 40))
            Line((102.399233728, 40), (33.855339059, 40))
            ThreePointArc((33.855339059, 40), (29.235941397, 43.086582838), (30.319805153, 48.535533906))
        make_face()
    extrude(amount=-CUT_EXTRUDE_5_DEPTH, mode=Mode.SUBTRACT)

    # 草图10 → 切除-拉伸6 (cut)
    with BuildSketch(Plane(origin=(0, 0, -6), x_dir=(-1, 0, 0), z_dir=(0, 0, -1))):
        with Locations((-103.650859454, 26.169531512)):
            Circle(SKETCH_10_R)
        with Locations((103.650859454, 26.169531512)):
            Circle(SKETCH_10_R)
    extrude(amount=-CUT_EXTRUDE_6_DEPTH, mode=Mode.SUBTRACT)

    # 草图11 → 切除-拉伸7 (cut)
    with BuildSketch(Plane(origin=(0, 0, -6), x_dir=(-1, 0, 0), z_dir=(0, 0, -1))):
        with Locations((-135, 354)):
            Circle(SKETCH_11_R)
        with Locations((-135, 322)):
            Circle(SKETCH_11_R)
        with Locations((-135, 290)):
            Circle(SKETCH_11_R)
        with Locations((-135, 258)):
            Circle(SKETCH_11_R)
        with Locations((-135, 226)):
            Circle(SKETCH_11_R)
        with Locations((-135, 194)):
            Circle(SKETCH_11_R)
        with Locations((135, 194)):
            Circle(SKETCH_11_R)
        with Locations((135, 226)):
            Circle(SKETCH_11_R)
        with Locations((135, 258)):
            Circle(SKETCH_11_R)
        with Locations((135, 290)):
            Circle(SKETCH_11_R)
        with Locations((135, 322)):
            Circle(SKETCH_11_R)
        with Locations((135, 354)):
            Circle(SKETCH_11_R)
    extrude(amount=-CUT_EXTRUDE_7_DEPTH, mode=Mode.SUBTRACT)


solid = part.part
